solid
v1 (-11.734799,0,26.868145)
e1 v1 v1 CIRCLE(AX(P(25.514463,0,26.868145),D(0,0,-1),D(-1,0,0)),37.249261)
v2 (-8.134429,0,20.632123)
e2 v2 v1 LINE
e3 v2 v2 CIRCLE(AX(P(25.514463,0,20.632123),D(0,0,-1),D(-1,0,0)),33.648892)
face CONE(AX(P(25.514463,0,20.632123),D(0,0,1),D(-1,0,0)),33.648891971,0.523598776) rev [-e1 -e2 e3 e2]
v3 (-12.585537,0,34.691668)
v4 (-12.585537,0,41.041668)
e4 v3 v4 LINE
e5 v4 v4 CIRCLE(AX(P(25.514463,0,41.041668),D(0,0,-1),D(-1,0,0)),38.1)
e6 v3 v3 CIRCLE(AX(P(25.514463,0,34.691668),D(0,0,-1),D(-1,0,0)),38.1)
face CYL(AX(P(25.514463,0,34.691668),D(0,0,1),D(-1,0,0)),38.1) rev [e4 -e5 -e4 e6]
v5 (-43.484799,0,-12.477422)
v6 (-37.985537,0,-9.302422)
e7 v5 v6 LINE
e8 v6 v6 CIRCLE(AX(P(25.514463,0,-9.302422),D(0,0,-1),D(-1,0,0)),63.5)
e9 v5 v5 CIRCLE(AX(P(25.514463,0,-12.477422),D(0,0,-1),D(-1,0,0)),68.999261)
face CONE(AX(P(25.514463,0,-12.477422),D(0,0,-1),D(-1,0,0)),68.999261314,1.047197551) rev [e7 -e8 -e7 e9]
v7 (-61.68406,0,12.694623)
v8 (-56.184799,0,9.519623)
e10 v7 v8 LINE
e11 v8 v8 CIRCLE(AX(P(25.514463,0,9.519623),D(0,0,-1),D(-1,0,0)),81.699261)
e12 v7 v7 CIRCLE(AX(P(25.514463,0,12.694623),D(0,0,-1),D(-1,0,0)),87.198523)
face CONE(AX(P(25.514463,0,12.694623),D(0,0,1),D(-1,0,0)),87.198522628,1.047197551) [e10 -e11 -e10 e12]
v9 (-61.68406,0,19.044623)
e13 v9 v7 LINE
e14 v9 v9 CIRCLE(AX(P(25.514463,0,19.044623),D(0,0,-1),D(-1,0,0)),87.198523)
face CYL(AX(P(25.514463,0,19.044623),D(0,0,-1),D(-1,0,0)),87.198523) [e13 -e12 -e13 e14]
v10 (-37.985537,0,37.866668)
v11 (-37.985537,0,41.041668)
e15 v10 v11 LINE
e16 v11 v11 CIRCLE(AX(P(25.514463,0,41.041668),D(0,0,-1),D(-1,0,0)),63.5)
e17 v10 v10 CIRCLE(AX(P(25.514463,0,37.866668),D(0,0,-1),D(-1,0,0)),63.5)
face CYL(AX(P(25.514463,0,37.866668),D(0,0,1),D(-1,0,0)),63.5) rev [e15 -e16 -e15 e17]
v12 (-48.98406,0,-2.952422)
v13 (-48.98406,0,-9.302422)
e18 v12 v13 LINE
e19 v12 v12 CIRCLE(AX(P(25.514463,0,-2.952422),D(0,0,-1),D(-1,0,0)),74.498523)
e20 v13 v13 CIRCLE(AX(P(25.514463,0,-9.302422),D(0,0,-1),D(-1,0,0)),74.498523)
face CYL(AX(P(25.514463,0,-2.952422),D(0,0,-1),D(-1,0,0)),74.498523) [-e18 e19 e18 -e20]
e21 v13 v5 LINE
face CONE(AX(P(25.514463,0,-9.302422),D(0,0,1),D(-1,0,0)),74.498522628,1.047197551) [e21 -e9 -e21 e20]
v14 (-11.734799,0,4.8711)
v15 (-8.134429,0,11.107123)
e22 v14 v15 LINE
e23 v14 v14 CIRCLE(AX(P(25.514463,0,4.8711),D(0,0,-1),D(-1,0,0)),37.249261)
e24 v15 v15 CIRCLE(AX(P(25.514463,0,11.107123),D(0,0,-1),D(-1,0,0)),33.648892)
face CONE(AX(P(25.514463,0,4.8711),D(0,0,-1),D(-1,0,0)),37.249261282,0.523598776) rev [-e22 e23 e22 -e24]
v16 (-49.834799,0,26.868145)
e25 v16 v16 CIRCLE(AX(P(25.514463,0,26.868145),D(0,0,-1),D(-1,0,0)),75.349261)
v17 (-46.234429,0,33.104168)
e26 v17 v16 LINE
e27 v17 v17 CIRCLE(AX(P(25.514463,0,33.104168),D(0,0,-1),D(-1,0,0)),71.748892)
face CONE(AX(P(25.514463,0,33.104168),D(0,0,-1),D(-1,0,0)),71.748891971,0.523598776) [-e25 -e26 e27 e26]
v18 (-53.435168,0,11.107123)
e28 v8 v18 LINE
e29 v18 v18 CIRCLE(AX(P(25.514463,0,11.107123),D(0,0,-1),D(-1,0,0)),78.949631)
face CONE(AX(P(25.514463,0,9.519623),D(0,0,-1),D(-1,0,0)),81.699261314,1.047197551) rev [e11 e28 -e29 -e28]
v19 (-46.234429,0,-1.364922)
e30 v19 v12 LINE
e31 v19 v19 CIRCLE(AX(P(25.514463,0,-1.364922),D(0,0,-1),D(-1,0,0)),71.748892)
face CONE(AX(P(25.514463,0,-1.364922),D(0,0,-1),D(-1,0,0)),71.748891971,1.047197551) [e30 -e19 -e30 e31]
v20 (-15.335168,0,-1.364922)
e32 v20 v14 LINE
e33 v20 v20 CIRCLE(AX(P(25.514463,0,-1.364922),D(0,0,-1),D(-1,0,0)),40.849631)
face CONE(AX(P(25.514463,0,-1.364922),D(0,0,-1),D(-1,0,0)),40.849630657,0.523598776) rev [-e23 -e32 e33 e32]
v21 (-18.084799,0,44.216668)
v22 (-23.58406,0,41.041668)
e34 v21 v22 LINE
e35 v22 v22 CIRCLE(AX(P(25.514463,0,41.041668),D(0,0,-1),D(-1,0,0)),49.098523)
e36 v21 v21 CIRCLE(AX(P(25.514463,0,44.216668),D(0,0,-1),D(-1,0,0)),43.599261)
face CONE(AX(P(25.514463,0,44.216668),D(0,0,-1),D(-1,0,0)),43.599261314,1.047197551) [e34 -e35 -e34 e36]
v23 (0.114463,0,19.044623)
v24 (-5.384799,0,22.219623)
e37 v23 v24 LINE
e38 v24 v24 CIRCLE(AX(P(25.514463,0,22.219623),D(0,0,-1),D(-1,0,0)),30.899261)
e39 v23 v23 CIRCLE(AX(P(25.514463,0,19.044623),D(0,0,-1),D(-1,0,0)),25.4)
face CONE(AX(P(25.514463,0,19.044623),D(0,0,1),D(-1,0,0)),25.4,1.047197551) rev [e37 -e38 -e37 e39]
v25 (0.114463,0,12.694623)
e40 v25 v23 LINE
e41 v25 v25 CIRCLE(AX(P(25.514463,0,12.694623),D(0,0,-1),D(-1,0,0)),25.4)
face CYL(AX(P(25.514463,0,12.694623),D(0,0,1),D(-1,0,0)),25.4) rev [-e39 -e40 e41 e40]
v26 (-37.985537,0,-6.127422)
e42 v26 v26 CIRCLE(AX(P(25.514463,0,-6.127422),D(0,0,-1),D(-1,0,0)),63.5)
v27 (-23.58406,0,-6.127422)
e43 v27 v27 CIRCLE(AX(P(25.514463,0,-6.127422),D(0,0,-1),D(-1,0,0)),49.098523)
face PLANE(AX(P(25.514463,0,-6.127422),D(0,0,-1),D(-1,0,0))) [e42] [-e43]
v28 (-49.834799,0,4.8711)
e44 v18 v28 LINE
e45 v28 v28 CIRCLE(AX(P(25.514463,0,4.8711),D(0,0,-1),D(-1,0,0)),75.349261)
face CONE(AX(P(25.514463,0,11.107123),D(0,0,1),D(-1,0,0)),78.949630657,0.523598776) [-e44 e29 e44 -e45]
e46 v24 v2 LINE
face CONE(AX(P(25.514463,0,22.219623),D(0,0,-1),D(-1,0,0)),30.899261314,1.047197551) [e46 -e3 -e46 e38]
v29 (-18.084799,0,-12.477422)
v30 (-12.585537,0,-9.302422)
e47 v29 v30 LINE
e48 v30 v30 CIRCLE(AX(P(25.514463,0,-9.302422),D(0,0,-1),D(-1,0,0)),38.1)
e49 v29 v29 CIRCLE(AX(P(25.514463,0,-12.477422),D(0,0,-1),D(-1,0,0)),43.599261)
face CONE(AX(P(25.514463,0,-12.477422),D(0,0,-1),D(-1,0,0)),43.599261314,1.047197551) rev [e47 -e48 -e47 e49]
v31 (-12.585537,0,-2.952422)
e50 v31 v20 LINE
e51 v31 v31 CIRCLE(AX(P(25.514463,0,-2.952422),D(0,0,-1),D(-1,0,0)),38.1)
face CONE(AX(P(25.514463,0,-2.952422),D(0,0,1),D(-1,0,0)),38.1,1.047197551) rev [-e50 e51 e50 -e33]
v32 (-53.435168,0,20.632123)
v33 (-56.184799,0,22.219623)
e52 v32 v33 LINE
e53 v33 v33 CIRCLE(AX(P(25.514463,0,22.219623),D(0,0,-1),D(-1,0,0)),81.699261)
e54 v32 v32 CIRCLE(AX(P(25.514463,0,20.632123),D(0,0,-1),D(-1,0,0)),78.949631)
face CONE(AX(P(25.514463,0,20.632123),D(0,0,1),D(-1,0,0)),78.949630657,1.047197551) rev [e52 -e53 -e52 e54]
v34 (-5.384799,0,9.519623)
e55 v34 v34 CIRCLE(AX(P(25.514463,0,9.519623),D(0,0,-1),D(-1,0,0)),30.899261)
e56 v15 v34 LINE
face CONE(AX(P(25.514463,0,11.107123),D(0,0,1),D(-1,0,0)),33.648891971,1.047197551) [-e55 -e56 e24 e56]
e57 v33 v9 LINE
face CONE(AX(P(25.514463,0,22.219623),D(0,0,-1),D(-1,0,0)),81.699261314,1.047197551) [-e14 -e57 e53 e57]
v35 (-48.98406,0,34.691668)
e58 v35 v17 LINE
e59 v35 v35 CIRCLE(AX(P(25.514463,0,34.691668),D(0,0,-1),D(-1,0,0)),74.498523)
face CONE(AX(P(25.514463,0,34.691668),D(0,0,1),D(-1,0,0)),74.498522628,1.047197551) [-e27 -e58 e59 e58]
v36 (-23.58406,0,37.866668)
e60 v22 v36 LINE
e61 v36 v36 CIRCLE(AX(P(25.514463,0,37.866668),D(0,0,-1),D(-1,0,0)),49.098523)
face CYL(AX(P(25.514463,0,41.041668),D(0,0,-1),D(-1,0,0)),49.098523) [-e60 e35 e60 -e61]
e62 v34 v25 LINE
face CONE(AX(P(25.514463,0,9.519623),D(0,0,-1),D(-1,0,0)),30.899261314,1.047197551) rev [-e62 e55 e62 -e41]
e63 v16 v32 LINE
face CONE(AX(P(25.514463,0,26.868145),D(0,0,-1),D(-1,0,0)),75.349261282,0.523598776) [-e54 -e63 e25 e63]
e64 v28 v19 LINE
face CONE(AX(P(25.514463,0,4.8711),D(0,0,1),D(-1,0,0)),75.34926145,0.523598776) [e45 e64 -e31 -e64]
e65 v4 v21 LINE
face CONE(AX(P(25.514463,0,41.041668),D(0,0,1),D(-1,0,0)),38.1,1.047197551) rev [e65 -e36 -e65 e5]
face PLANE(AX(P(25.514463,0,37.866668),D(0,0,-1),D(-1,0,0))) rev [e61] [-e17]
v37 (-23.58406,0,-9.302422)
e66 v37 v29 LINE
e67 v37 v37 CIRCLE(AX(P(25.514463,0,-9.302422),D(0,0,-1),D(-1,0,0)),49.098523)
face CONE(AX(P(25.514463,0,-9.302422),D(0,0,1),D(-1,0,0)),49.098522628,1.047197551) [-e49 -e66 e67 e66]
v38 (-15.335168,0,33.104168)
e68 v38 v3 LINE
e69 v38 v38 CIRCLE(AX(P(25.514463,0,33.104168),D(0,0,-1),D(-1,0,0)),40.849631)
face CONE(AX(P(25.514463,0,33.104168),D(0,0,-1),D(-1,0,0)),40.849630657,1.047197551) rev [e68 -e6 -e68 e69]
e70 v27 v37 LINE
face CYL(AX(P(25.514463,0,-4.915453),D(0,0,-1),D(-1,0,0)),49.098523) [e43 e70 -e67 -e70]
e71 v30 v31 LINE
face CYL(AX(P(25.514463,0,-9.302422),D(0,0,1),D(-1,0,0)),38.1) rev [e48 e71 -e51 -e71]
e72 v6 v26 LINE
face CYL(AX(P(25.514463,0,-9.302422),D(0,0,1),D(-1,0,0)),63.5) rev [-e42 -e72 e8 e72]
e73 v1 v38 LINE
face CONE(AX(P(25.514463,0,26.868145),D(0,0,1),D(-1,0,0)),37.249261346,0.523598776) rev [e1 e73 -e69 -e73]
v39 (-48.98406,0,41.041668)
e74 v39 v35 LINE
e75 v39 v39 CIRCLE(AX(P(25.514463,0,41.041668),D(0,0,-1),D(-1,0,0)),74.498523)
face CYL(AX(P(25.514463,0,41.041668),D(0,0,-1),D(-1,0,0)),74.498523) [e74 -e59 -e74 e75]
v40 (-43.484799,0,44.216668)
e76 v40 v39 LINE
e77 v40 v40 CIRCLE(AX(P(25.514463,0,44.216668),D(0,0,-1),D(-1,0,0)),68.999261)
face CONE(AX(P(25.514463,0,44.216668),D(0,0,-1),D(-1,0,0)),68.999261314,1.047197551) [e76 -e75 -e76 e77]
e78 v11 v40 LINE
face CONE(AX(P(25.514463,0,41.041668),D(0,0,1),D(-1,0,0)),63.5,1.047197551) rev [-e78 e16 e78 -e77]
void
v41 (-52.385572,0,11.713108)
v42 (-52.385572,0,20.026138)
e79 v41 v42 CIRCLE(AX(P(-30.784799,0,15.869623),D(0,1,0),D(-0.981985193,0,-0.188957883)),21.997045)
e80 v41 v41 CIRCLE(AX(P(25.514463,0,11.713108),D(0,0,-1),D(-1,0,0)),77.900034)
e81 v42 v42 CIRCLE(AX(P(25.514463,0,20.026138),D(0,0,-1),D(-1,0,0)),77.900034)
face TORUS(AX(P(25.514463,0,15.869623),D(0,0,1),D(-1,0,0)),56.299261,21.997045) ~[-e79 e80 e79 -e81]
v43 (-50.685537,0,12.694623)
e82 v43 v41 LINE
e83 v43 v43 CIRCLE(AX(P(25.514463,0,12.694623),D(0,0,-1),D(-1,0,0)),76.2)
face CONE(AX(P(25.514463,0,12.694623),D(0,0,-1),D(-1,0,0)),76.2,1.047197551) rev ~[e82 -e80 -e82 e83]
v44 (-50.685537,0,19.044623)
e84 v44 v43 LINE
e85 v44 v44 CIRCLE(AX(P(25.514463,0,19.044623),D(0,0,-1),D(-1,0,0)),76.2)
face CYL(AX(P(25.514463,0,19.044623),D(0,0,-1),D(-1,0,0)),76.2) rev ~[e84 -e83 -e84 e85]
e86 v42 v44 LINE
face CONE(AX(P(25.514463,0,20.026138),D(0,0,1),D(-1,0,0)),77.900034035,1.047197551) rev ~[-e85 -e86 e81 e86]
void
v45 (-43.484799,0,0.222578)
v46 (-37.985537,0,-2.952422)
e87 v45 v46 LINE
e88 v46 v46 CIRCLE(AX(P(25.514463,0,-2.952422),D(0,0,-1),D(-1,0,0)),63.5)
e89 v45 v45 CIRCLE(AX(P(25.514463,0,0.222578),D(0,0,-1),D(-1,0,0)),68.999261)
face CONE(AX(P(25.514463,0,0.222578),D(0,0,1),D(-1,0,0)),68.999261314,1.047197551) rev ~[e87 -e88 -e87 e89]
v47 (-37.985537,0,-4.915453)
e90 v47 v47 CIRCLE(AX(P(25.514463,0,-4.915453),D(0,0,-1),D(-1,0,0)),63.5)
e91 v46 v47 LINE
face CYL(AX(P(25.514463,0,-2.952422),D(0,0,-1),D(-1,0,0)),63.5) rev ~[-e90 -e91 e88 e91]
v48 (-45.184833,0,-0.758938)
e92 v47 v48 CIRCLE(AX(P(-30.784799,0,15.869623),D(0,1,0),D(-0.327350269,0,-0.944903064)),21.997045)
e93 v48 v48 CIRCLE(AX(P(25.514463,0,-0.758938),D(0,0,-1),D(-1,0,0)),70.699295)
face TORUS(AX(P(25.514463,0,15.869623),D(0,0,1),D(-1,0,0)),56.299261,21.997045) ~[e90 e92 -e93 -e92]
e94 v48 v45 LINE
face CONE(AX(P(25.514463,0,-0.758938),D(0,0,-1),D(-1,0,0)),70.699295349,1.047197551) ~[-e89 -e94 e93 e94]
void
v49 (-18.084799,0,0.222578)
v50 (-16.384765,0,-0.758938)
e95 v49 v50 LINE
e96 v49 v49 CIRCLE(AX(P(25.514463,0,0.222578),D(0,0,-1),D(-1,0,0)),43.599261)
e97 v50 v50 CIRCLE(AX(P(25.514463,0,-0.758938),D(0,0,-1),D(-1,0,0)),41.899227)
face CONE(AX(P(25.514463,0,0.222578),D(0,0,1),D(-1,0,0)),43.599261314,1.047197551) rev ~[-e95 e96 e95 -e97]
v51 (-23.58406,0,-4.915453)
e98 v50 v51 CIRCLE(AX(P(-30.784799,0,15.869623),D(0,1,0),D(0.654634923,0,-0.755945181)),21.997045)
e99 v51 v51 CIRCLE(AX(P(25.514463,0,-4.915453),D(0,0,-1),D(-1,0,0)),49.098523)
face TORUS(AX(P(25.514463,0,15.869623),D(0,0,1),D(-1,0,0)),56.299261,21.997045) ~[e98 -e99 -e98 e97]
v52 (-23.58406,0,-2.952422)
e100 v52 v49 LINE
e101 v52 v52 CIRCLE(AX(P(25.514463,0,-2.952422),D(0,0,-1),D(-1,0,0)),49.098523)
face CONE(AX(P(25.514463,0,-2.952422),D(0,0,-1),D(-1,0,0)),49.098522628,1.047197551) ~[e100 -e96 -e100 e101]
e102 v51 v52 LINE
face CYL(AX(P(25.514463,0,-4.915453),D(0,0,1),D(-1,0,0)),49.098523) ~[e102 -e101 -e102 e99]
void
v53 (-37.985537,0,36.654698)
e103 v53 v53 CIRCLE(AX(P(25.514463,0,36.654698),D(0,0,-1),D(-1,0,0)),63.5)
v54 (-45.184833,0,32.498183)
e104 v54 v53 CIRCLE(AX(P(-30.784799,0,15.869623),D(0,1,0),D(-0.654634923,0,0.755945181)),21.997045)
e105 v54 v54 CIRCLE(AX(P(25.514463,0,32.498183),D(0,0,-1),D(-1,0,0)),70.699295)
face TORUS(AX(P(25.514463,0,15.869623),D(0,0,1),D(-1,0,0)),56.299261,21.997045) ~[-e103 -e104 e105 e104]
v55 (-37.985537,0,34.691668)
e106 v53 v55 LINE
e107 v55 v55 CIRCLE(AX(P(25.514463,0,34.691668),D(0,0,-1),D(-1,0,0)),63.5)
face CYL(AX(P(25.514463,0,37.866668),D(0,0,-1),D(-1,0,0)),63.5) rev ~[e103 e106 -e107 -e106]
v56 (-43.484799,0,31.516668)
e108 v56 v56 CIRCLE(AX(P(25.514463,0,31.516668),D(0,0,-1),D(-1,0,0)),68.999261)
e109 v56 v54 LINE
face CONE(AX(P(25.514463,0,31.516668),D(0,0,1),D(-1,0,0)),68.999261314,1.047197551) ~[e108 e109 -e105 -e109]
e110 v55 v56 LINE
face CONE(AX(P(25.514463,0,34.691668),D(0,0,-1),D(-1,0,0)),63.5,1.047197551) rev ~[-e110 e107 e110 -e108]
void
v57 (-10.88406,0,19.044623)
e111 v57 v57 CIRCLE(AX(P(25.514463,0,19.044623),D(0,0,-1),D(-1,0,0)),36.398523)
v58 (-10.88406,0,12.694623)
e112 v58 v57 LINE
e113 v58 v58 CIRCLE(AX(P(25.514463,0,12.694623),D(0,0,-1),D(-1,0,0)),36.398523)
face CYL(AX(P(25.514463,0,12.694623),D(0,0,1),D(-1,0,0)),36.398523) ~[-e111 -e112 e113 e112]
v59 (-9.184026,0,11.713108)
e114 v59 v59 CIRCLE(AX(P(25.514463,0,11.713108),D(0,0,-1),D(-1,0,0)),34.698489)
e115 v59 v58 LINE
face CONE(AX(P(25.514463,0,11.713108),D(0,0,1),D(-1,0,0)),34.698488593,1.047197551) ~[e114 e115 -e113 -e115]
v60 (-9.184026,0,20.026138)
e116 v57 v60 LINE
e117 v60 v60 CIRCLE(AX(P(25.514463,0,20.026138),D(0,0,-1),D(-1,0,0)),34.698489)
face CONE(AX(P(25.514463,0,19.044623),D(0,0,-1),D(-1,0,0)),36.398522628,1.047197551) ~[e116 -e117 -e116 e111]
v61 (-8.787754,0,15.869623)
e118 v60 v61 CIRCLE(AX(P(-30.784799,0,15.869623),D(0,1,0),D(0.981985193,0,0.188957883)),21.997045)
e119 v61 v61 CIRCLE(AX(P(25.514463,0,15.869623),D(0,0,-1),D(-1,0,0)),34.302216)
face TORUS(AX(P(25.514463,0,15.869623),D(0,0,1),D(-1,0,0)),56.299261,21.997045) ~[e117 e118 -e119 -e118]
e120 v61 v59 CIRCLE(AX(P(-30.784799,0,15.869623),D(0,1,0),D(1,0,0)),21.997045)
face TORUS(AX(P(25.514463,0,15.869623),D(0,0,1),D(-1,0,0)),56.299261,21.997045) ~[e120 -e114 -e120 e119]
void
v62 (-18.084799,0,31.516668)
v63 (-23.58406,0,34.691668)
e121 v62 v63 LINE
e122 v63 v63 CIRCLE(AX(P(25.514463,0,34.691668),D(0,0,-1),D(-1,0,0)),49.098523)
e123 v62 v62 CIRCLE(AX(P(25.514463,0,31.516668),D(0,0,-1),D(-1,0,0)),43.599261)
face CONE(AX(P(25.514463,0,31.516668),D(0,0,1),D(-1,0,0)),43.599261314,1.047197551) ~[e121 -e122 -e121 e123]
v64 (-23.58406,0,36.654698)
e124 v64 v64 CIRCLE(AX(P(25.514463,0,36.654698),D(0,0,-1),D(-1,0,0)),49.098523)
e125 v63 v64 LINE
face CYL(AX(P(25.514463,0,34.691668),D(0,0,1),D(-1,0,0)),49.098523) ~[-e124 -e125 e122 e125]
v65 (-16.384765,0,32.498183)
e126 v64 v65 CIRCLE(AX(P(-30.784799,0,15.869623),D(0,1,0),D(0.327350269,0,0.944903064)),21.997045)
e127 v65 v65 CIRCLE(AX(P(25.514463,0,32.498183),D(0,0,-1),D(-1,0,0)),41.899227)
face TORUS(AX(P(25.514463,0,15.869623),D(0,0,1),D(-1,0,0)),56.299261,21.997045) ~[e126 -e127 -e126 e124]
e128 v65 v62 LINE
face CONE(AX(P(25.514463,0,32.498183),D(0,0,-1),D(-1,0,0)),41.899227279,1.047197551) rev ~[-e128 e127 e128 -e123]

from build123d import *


with BuildPart() as f1:
    # F0 (on Front) → F1 (revolve)
    with BuildSketch(Plane.XZ):
        with BuildLine():
            ThreePointArc((-9.1840260647, 20.0261379157), (-8.8870457607, 17.9573039236), (-8.7877535299, 15.8696228078))
            ThreePointArc((-8.7877535299, 15.8696228078), (-8.8870457607, 13.7819416921), (-9.1840260647, 11.7131076999))
            Line((-9.1840260647, 11.7131076999), (-8.1344294431, 11.1071228078))
            Line((-8.1344294431, 11.1071228078), (-5.384798786, 15.8696228078))
            Line((-5.384798786, 15.8696228078), (-8.1344294431, 20.6321228078))
            Line((-8.1344294431, 20.6321228078), (-9.1840260647, 20.0261379157))
        make_face()
        with BuildLine():
            Line((-10.8840601001, 19.0446228078), (-9.1840260647, 20.0261379157))
            ThreePointArc((-9.1840260647, 20.0261379157), (-10.1735252451, 23.5537234722), (-11.7347988177, 26.8681454908))
            ThreePointArc((-11.7347988177, 26.8681454908), (-13.8245356754, 29.8774590153), (-16.3847647507, 32.4981831719))
            Line((-16.3847647507, 32.4981831719), (-18.084798786, 31.5166680639))
            Line((-18.084798786, 31.5166680639), (-23.5840601001, 34.6916680639))
            Line((-23.5840601001, 34.6916680639), (-23.5840601001, 36.6546982798))
            ThreePointArc((-23.5840601001, 36.6546982798), (-27.1337883649, 37.5615596255), (-30.784798786, 37.8666680639))
            ThreePointArc((-30.784798786, 37.8666680639), (-34.4358092072, 37.5615596255), (-37.985537472, 36.6546982798))
            Line((-37.985537472, 36.6546982798), (-37.985537472, 34.6916680639))
            Line((-37.985537472, 34.6916680639), (-43.484798786, 31.5166680639))
            Line((-43.484798786, 31.5166680639), (-45.1848328214, 32.4981831719))
            ThreePointArc((-45.1848328214, 32.4981831719), (-47.7450618967, 29.8774590153), (-49.8347987544, 26.8681454908))
            ThreePointArc((-49.8347987544, 26.8681454908), (-51.396072327, 23.5537234722), (-52.3855715074, 20.0261379157))
            Line((-52.3855715074, 20.0261379157), (-50.685537472, 19.0446228078))
            Line((-50.685537472, 19.0446228078), (-50.685537472, 12.6946228078))
            Line((-50.685537472, 12.6946228078), (-52.3855715074, 11.7131076999))
            ThreePointArc((-52.3855715074, 11.7131076999), (-51.3960723856, 8.1855223005), (-49.834798922, 4.8711004152))
            ThreePointArc((-49.834798922, 4.8711004152), (-47.7450620035, 1.8617867296), (-45.1848328214, -0.7589375563))
            Line((-45.1848328214, -0.7589375563), (-43.484798786, 0.2225775517))
            Line((-43.484798786, 0.2225775517), (-37.985537472, -2.9524224483))
            Line((-37.985537472, -2.9524224483), (-37.985537472, -4.9154526642))
            ThreePointArc((-37.985537472, -4.9154526642), (-34.4358092072, -5.8223140099), (-30.784798786, -6.1274224483))
            ThreePointArc((-30.784798786, -6.1274224483), (-27.1337883649, -5.8223140099), (-23.5840601001, -4.9154526642))
            Line((-23.5840601001, -4.9154526642), (-23.5840601001, -2.9524224483))
            Line((-23.5840601001, -2.9524224483), (-18.084798786, 0.2225775517))
            Line((-18.084798786, 0.2225775517), (-16.3847647507, -0.7589375563))
            ThreePointArc((-16.3847647507, -0.7589375563), (-13.8245356346, 1.8617866497), (-11.7347987537, 4.8711002358))
            ThreePointArc((-11.7347987537, 4.8711002358), (-10.1735252227, 8.1855222034), (-9.1840260647, 11.7131076999))
            Line((-9.1840260647, 11.7131076999), (-10.8840601001, 12.6946228078))
            Line((-10.8840601001, 12.6946228078), (-10.8840601001, 19.0446228078))
        make_face()
        with BuildLine():
            ThreePointArc((-11.7347988177, 26.8681454908), (-10.1735252451, 23.5537234722), (-9.1840260647, 20.0261379157))
            Line((-9.1840260647, 20.0261379157), (-8.1344294431, 20.6321228078))
            Line((-8.1344294431, 20.6321228078), (-11.7347988177, 26.8681454908))
        make_face()
        with BuildLine():
            Line((-8.1344294431, 11.1071228078), (-9.1840260647, 11.7131076999))
            ThreePointArc((-9.1840260647, 11.7131076999), (-10.1735252227, 8.1855222034), (-11.7347987537, 4.8711002358))
            Line((-11.7347987537, 4.8711002358), (-8.1344294431, 11.1071228078))
        make_face()
        with BuildLine():
            ThreePointArc((-16.3847647507, 32.4981831719), (-13.8245356754, 29.8774590153), (-11.7347988177, 26.8681454908))
            Line((-11.7347988177, 26.8681454908), (-15.335168129, 33.1041680639))
            Line((-15.335168129, 33.1041680639), (-16.3847647507, 32.4981831719))
        make_face()
        Polygon((-5.384798786, 22.2196228078), (-8.1344294431, 20.6321228078), (-5.384798786, 15.8696228078), (-8.1344294431, 11.1071228078), (-5.384798786, 9.5196228078), (0.114462528, 12.6946228078), (0.114462528, 19.0446228078), align=None)
        with BuildLine():
            Line((-15.335168129, -1.3649224483), (-11.7347987537, 4.8711002358))
            ThreePointArc((-11.7347987537, 4.8711002358), (-13.8245356346, 1.8617866497), (-16.3847647507, -0.7589375563))
            Line((-16.3847647507, -0.7589375563), (-15.335168129, -1.3649224483))
        make_face()
        with BuildLine():
            ThreePointArc((-23.5840601001, 36.6546982798), (-19.786276158, 34.9196228078), (-16.3847647507, 32.4981831719))
            Line((-16.3847647507, 32.4981831719), (-15.335168129, 33.1041680639))
            Line((-15.335168129, 33.1041680639), (-18.084798786, 37.8666680639))
            Line((-18.084798786, 37.8666680639), (-23.5840601001, 37.8666680639))
            Line((-23.5840601001, 37.8666680639), (-23.5840601001, 36.6546982798))
        make_face()
        Polygon((-18.084798786, 37.8666680639), (-15.335168129, 33.1041680639), (-12.585537472, 34.6916680639), (-12.585537472, 41.0416680639), (-18.084798786, 44.2166680639), (-23.5840601001, 41.0416680639), (-23.5840601001, 37.8666680639), align=None)
        with BuildLine():
            Line((-15.335168129, -1.3649224483), (-16.3847647507, -0.7589375563))
            ThreePointArc((-16.3847647507, -0.7589375563), (-19.786276158, -3.1803771922), (-23.5840601001, -4.9154526642))
            Line((-23.5840601001, -4.9154526642), (-23.5840601001, -6.1274224483))
            Line((-23.5840601001, -6.1274224483), (-18.084798786, -6.1274224483))
            Line((-18.084798786, -6.1274224483), (-15.335168129, -1.3649224483))
        make_face()
        Polygon((-12.585537472, -2.9524224483), (-15.335168129, -1.3649224483), (-18.084798786, -6.1274224483), (-23.5840601001, -6.1274224483), (-23.5840601001, -9.3024224483), (-18.084798786, -12.4774224483), (-12.585537472, -9.3024224483), align=None)
        with BuildLine():
            ThreePointArc((-30.784798786, 37.8666680639), (-27.1337883649, 37.5615596255), (-23.5840601001, 36.6546982798))
            Line((-23.5840601001, 36.6546982798), (-23.5840601001, 37.8666680639))
            Line((-23.5840601001, 37.8666680639), (-30.784798786, 37.8666680639))
        make_face()
        with BuildLine():
            Line((-23.5840601001, -6.1274224483), (-23.5840601001, -4.9154526642))
            ThreePointArc((-23.5840601001, -4.9154526642), (-27.1337883649, -5.8223140099), (-30.784798786, -6.1274224483))
            Line((-30.784798786, -6.1274224483), (-23.5840601001, -6.1274224483))
        make_face()
        with BuildLine():
            ThreePointArc((-37.985537472, 36.6546982798), (-34.4358092072, 37.5615596255), (-30.784798786, 37.8666680639))
            Line((-30.784798786, 37.8666680639), (-37.985537472, 37.8666680639))
            Line((-37.985537472, 37.8666680639), (-37.985537472, 36.6546982798))
        make_face()
        with BuildLine():
            Line((-37.985537472, -6.1274224483), (-30.784798786, -6.1274224483))
            ThreePointArc((-30.784798786, -6.1274224483), (-34.4358092072, -5.8223140099), (-37.985537472, -4.9154526642))
            Line((-37.985537472, -4.9154526642), (-37.985537472, -6.1274224483))
        make_face()
        with BuildLine():
            ThreePointArc((-45.1848328214, 32.4981831719), (-41.7833214141, 34.9196228078), (-37.985537472, 36.6546982798))
            Line((-37.985537472, 36.6546982798), (-37.985537472, 37.8666680639))
            Line((-37.985537472, 37.8666680639), (-43.484798786, 37.8666680639))
            Line((-43.484798786, 37.8666680639), (-46.2344294431, 33.1041680639))
            Line((-46.2344294431, 33.1041680639), (-45.1848328214, 32.4981831719))
        make_face()
        Polygon((-43.484798786, 37.8666680639), (-37.985537472, 37.8666680639), (-37.985537472, 41.0416680639), (-43.484798786, 44.2166680639), (-48.9840601001, 41.0416680639), (-48.9840601001, 34.6916680639), (-46.2344294431, 33.1041680639), align=None)
        with BuildLine():
            Line((-37.985537472, -6.1274224483), (-37.985537472, -4.9154526642))
            ThreePointArc((-37.985537472, -4.9154526642), (-41.7833214141, -3.1803771922), (-45.1848328214, -0.7589375563))
            Line((-45.1848328214, -0.7589375563), (-46.2344294431, -1.3649224483))
            Line((-46.2344294431, -1.3649224483), (-43.484798786, -6.1274224483))
            Line((-43.484798786, -6.1274224483), (-37.985537472, -6.1274224483))
        make_face()
        Polygon((-37.985537472, -9.3024224483), (-37.985537472, -6.1274224483), (-43.484798786, -6.1274224483), (-46.2344294431, -1.3649224483), (-48.9840601001, -2.9524224483), (-48.9840601001, -9.3024224483), (-43.484798786, -12.4774224483), align=None)
        with BuildLine():
            ThreePointArc((-49.8347987544, 26.8681454908), (-47.7450618967, 29.8774590153), (-45.1848328214, 32.4981831719))
            Line((-45.1848328214, 32.4981831719), (-46.2344294431, 33.1041680639))
            Line((-46.2344294431, 33.1041680639), (-49.8347987544, 26.8681454908))
        make_face()
        with BuildLine():
            Line((-46.2344294431, -1.3649224483), (-45.1848328214, -0.7589375563))
            ThreePointArc((-45.1848328214, -0.7589375563), (-47.7450620035, 1.8617867296), (-49.834798922, 4.8711004152))
            Line((-49.834798922, 4.8711004152), (-46.2344294431, -1.3649224483))
        make_face()
        with BuildLine():
            ThreePointArc((-52.3855715074, 20.0261379157), (-51.396072327, 23.5537234722), (-49.8347987544, 26.8681454908))
            Line((-49.8347987544, 26.8681454908), (-53.435168129, 20.6321228078))
            Line((-53.435168129, 20.6321228078), (-52.3855715074, 20.0261379157))
        make_face()
        with BuildLine():
            Line((-53.435168129, 11.1071228078), (-49.834798922, 4.8711004152))
            ThreePointArc((-49.834798922, 4.8711004152), (-51.3960723856, 8.1855223005), (-52.3855715074, 11.7131076999))
            Line((-52.3855715074, 11.7131076999), (-53.435168129, 11.1071228078))
        make_face()
        with BuildLine():
            ThreePointArc((-52.3855715074, 11.7131076999), (-52.7818440422, 15.8696228078), (-52.3855715074, 20.0261379157))
            Line((-52.3855715074, 20.0261379157), (-53.435168129, 20.6321228078))
            Line((-53.435168129, 20.6321228078), (-56.184798786, 15.8696228078))
            Line((-56.184798786, 15.8696228078), (-53.435168129, 11.1071228078))
            Line((-53.435168129, 11.1071228078), (-52.3855715074, 11.7131076999))
        make_face()
        Polygon((-56.184798786, 15.8696228078), (-53.435168129, 20.6321228078), (-56.184798786, 22.2196228078), (-61.6840601001, 19.0446228078), (-61.6840601001, 12.6946228078), (-56.184798786, 9.5196228078), (-53.435168129, 11.1071228078), align=None)
    revolve(axis=Axis((25.514462528, 0, 17.1541441232), (0, 0, -1)))


solid = f1.part
